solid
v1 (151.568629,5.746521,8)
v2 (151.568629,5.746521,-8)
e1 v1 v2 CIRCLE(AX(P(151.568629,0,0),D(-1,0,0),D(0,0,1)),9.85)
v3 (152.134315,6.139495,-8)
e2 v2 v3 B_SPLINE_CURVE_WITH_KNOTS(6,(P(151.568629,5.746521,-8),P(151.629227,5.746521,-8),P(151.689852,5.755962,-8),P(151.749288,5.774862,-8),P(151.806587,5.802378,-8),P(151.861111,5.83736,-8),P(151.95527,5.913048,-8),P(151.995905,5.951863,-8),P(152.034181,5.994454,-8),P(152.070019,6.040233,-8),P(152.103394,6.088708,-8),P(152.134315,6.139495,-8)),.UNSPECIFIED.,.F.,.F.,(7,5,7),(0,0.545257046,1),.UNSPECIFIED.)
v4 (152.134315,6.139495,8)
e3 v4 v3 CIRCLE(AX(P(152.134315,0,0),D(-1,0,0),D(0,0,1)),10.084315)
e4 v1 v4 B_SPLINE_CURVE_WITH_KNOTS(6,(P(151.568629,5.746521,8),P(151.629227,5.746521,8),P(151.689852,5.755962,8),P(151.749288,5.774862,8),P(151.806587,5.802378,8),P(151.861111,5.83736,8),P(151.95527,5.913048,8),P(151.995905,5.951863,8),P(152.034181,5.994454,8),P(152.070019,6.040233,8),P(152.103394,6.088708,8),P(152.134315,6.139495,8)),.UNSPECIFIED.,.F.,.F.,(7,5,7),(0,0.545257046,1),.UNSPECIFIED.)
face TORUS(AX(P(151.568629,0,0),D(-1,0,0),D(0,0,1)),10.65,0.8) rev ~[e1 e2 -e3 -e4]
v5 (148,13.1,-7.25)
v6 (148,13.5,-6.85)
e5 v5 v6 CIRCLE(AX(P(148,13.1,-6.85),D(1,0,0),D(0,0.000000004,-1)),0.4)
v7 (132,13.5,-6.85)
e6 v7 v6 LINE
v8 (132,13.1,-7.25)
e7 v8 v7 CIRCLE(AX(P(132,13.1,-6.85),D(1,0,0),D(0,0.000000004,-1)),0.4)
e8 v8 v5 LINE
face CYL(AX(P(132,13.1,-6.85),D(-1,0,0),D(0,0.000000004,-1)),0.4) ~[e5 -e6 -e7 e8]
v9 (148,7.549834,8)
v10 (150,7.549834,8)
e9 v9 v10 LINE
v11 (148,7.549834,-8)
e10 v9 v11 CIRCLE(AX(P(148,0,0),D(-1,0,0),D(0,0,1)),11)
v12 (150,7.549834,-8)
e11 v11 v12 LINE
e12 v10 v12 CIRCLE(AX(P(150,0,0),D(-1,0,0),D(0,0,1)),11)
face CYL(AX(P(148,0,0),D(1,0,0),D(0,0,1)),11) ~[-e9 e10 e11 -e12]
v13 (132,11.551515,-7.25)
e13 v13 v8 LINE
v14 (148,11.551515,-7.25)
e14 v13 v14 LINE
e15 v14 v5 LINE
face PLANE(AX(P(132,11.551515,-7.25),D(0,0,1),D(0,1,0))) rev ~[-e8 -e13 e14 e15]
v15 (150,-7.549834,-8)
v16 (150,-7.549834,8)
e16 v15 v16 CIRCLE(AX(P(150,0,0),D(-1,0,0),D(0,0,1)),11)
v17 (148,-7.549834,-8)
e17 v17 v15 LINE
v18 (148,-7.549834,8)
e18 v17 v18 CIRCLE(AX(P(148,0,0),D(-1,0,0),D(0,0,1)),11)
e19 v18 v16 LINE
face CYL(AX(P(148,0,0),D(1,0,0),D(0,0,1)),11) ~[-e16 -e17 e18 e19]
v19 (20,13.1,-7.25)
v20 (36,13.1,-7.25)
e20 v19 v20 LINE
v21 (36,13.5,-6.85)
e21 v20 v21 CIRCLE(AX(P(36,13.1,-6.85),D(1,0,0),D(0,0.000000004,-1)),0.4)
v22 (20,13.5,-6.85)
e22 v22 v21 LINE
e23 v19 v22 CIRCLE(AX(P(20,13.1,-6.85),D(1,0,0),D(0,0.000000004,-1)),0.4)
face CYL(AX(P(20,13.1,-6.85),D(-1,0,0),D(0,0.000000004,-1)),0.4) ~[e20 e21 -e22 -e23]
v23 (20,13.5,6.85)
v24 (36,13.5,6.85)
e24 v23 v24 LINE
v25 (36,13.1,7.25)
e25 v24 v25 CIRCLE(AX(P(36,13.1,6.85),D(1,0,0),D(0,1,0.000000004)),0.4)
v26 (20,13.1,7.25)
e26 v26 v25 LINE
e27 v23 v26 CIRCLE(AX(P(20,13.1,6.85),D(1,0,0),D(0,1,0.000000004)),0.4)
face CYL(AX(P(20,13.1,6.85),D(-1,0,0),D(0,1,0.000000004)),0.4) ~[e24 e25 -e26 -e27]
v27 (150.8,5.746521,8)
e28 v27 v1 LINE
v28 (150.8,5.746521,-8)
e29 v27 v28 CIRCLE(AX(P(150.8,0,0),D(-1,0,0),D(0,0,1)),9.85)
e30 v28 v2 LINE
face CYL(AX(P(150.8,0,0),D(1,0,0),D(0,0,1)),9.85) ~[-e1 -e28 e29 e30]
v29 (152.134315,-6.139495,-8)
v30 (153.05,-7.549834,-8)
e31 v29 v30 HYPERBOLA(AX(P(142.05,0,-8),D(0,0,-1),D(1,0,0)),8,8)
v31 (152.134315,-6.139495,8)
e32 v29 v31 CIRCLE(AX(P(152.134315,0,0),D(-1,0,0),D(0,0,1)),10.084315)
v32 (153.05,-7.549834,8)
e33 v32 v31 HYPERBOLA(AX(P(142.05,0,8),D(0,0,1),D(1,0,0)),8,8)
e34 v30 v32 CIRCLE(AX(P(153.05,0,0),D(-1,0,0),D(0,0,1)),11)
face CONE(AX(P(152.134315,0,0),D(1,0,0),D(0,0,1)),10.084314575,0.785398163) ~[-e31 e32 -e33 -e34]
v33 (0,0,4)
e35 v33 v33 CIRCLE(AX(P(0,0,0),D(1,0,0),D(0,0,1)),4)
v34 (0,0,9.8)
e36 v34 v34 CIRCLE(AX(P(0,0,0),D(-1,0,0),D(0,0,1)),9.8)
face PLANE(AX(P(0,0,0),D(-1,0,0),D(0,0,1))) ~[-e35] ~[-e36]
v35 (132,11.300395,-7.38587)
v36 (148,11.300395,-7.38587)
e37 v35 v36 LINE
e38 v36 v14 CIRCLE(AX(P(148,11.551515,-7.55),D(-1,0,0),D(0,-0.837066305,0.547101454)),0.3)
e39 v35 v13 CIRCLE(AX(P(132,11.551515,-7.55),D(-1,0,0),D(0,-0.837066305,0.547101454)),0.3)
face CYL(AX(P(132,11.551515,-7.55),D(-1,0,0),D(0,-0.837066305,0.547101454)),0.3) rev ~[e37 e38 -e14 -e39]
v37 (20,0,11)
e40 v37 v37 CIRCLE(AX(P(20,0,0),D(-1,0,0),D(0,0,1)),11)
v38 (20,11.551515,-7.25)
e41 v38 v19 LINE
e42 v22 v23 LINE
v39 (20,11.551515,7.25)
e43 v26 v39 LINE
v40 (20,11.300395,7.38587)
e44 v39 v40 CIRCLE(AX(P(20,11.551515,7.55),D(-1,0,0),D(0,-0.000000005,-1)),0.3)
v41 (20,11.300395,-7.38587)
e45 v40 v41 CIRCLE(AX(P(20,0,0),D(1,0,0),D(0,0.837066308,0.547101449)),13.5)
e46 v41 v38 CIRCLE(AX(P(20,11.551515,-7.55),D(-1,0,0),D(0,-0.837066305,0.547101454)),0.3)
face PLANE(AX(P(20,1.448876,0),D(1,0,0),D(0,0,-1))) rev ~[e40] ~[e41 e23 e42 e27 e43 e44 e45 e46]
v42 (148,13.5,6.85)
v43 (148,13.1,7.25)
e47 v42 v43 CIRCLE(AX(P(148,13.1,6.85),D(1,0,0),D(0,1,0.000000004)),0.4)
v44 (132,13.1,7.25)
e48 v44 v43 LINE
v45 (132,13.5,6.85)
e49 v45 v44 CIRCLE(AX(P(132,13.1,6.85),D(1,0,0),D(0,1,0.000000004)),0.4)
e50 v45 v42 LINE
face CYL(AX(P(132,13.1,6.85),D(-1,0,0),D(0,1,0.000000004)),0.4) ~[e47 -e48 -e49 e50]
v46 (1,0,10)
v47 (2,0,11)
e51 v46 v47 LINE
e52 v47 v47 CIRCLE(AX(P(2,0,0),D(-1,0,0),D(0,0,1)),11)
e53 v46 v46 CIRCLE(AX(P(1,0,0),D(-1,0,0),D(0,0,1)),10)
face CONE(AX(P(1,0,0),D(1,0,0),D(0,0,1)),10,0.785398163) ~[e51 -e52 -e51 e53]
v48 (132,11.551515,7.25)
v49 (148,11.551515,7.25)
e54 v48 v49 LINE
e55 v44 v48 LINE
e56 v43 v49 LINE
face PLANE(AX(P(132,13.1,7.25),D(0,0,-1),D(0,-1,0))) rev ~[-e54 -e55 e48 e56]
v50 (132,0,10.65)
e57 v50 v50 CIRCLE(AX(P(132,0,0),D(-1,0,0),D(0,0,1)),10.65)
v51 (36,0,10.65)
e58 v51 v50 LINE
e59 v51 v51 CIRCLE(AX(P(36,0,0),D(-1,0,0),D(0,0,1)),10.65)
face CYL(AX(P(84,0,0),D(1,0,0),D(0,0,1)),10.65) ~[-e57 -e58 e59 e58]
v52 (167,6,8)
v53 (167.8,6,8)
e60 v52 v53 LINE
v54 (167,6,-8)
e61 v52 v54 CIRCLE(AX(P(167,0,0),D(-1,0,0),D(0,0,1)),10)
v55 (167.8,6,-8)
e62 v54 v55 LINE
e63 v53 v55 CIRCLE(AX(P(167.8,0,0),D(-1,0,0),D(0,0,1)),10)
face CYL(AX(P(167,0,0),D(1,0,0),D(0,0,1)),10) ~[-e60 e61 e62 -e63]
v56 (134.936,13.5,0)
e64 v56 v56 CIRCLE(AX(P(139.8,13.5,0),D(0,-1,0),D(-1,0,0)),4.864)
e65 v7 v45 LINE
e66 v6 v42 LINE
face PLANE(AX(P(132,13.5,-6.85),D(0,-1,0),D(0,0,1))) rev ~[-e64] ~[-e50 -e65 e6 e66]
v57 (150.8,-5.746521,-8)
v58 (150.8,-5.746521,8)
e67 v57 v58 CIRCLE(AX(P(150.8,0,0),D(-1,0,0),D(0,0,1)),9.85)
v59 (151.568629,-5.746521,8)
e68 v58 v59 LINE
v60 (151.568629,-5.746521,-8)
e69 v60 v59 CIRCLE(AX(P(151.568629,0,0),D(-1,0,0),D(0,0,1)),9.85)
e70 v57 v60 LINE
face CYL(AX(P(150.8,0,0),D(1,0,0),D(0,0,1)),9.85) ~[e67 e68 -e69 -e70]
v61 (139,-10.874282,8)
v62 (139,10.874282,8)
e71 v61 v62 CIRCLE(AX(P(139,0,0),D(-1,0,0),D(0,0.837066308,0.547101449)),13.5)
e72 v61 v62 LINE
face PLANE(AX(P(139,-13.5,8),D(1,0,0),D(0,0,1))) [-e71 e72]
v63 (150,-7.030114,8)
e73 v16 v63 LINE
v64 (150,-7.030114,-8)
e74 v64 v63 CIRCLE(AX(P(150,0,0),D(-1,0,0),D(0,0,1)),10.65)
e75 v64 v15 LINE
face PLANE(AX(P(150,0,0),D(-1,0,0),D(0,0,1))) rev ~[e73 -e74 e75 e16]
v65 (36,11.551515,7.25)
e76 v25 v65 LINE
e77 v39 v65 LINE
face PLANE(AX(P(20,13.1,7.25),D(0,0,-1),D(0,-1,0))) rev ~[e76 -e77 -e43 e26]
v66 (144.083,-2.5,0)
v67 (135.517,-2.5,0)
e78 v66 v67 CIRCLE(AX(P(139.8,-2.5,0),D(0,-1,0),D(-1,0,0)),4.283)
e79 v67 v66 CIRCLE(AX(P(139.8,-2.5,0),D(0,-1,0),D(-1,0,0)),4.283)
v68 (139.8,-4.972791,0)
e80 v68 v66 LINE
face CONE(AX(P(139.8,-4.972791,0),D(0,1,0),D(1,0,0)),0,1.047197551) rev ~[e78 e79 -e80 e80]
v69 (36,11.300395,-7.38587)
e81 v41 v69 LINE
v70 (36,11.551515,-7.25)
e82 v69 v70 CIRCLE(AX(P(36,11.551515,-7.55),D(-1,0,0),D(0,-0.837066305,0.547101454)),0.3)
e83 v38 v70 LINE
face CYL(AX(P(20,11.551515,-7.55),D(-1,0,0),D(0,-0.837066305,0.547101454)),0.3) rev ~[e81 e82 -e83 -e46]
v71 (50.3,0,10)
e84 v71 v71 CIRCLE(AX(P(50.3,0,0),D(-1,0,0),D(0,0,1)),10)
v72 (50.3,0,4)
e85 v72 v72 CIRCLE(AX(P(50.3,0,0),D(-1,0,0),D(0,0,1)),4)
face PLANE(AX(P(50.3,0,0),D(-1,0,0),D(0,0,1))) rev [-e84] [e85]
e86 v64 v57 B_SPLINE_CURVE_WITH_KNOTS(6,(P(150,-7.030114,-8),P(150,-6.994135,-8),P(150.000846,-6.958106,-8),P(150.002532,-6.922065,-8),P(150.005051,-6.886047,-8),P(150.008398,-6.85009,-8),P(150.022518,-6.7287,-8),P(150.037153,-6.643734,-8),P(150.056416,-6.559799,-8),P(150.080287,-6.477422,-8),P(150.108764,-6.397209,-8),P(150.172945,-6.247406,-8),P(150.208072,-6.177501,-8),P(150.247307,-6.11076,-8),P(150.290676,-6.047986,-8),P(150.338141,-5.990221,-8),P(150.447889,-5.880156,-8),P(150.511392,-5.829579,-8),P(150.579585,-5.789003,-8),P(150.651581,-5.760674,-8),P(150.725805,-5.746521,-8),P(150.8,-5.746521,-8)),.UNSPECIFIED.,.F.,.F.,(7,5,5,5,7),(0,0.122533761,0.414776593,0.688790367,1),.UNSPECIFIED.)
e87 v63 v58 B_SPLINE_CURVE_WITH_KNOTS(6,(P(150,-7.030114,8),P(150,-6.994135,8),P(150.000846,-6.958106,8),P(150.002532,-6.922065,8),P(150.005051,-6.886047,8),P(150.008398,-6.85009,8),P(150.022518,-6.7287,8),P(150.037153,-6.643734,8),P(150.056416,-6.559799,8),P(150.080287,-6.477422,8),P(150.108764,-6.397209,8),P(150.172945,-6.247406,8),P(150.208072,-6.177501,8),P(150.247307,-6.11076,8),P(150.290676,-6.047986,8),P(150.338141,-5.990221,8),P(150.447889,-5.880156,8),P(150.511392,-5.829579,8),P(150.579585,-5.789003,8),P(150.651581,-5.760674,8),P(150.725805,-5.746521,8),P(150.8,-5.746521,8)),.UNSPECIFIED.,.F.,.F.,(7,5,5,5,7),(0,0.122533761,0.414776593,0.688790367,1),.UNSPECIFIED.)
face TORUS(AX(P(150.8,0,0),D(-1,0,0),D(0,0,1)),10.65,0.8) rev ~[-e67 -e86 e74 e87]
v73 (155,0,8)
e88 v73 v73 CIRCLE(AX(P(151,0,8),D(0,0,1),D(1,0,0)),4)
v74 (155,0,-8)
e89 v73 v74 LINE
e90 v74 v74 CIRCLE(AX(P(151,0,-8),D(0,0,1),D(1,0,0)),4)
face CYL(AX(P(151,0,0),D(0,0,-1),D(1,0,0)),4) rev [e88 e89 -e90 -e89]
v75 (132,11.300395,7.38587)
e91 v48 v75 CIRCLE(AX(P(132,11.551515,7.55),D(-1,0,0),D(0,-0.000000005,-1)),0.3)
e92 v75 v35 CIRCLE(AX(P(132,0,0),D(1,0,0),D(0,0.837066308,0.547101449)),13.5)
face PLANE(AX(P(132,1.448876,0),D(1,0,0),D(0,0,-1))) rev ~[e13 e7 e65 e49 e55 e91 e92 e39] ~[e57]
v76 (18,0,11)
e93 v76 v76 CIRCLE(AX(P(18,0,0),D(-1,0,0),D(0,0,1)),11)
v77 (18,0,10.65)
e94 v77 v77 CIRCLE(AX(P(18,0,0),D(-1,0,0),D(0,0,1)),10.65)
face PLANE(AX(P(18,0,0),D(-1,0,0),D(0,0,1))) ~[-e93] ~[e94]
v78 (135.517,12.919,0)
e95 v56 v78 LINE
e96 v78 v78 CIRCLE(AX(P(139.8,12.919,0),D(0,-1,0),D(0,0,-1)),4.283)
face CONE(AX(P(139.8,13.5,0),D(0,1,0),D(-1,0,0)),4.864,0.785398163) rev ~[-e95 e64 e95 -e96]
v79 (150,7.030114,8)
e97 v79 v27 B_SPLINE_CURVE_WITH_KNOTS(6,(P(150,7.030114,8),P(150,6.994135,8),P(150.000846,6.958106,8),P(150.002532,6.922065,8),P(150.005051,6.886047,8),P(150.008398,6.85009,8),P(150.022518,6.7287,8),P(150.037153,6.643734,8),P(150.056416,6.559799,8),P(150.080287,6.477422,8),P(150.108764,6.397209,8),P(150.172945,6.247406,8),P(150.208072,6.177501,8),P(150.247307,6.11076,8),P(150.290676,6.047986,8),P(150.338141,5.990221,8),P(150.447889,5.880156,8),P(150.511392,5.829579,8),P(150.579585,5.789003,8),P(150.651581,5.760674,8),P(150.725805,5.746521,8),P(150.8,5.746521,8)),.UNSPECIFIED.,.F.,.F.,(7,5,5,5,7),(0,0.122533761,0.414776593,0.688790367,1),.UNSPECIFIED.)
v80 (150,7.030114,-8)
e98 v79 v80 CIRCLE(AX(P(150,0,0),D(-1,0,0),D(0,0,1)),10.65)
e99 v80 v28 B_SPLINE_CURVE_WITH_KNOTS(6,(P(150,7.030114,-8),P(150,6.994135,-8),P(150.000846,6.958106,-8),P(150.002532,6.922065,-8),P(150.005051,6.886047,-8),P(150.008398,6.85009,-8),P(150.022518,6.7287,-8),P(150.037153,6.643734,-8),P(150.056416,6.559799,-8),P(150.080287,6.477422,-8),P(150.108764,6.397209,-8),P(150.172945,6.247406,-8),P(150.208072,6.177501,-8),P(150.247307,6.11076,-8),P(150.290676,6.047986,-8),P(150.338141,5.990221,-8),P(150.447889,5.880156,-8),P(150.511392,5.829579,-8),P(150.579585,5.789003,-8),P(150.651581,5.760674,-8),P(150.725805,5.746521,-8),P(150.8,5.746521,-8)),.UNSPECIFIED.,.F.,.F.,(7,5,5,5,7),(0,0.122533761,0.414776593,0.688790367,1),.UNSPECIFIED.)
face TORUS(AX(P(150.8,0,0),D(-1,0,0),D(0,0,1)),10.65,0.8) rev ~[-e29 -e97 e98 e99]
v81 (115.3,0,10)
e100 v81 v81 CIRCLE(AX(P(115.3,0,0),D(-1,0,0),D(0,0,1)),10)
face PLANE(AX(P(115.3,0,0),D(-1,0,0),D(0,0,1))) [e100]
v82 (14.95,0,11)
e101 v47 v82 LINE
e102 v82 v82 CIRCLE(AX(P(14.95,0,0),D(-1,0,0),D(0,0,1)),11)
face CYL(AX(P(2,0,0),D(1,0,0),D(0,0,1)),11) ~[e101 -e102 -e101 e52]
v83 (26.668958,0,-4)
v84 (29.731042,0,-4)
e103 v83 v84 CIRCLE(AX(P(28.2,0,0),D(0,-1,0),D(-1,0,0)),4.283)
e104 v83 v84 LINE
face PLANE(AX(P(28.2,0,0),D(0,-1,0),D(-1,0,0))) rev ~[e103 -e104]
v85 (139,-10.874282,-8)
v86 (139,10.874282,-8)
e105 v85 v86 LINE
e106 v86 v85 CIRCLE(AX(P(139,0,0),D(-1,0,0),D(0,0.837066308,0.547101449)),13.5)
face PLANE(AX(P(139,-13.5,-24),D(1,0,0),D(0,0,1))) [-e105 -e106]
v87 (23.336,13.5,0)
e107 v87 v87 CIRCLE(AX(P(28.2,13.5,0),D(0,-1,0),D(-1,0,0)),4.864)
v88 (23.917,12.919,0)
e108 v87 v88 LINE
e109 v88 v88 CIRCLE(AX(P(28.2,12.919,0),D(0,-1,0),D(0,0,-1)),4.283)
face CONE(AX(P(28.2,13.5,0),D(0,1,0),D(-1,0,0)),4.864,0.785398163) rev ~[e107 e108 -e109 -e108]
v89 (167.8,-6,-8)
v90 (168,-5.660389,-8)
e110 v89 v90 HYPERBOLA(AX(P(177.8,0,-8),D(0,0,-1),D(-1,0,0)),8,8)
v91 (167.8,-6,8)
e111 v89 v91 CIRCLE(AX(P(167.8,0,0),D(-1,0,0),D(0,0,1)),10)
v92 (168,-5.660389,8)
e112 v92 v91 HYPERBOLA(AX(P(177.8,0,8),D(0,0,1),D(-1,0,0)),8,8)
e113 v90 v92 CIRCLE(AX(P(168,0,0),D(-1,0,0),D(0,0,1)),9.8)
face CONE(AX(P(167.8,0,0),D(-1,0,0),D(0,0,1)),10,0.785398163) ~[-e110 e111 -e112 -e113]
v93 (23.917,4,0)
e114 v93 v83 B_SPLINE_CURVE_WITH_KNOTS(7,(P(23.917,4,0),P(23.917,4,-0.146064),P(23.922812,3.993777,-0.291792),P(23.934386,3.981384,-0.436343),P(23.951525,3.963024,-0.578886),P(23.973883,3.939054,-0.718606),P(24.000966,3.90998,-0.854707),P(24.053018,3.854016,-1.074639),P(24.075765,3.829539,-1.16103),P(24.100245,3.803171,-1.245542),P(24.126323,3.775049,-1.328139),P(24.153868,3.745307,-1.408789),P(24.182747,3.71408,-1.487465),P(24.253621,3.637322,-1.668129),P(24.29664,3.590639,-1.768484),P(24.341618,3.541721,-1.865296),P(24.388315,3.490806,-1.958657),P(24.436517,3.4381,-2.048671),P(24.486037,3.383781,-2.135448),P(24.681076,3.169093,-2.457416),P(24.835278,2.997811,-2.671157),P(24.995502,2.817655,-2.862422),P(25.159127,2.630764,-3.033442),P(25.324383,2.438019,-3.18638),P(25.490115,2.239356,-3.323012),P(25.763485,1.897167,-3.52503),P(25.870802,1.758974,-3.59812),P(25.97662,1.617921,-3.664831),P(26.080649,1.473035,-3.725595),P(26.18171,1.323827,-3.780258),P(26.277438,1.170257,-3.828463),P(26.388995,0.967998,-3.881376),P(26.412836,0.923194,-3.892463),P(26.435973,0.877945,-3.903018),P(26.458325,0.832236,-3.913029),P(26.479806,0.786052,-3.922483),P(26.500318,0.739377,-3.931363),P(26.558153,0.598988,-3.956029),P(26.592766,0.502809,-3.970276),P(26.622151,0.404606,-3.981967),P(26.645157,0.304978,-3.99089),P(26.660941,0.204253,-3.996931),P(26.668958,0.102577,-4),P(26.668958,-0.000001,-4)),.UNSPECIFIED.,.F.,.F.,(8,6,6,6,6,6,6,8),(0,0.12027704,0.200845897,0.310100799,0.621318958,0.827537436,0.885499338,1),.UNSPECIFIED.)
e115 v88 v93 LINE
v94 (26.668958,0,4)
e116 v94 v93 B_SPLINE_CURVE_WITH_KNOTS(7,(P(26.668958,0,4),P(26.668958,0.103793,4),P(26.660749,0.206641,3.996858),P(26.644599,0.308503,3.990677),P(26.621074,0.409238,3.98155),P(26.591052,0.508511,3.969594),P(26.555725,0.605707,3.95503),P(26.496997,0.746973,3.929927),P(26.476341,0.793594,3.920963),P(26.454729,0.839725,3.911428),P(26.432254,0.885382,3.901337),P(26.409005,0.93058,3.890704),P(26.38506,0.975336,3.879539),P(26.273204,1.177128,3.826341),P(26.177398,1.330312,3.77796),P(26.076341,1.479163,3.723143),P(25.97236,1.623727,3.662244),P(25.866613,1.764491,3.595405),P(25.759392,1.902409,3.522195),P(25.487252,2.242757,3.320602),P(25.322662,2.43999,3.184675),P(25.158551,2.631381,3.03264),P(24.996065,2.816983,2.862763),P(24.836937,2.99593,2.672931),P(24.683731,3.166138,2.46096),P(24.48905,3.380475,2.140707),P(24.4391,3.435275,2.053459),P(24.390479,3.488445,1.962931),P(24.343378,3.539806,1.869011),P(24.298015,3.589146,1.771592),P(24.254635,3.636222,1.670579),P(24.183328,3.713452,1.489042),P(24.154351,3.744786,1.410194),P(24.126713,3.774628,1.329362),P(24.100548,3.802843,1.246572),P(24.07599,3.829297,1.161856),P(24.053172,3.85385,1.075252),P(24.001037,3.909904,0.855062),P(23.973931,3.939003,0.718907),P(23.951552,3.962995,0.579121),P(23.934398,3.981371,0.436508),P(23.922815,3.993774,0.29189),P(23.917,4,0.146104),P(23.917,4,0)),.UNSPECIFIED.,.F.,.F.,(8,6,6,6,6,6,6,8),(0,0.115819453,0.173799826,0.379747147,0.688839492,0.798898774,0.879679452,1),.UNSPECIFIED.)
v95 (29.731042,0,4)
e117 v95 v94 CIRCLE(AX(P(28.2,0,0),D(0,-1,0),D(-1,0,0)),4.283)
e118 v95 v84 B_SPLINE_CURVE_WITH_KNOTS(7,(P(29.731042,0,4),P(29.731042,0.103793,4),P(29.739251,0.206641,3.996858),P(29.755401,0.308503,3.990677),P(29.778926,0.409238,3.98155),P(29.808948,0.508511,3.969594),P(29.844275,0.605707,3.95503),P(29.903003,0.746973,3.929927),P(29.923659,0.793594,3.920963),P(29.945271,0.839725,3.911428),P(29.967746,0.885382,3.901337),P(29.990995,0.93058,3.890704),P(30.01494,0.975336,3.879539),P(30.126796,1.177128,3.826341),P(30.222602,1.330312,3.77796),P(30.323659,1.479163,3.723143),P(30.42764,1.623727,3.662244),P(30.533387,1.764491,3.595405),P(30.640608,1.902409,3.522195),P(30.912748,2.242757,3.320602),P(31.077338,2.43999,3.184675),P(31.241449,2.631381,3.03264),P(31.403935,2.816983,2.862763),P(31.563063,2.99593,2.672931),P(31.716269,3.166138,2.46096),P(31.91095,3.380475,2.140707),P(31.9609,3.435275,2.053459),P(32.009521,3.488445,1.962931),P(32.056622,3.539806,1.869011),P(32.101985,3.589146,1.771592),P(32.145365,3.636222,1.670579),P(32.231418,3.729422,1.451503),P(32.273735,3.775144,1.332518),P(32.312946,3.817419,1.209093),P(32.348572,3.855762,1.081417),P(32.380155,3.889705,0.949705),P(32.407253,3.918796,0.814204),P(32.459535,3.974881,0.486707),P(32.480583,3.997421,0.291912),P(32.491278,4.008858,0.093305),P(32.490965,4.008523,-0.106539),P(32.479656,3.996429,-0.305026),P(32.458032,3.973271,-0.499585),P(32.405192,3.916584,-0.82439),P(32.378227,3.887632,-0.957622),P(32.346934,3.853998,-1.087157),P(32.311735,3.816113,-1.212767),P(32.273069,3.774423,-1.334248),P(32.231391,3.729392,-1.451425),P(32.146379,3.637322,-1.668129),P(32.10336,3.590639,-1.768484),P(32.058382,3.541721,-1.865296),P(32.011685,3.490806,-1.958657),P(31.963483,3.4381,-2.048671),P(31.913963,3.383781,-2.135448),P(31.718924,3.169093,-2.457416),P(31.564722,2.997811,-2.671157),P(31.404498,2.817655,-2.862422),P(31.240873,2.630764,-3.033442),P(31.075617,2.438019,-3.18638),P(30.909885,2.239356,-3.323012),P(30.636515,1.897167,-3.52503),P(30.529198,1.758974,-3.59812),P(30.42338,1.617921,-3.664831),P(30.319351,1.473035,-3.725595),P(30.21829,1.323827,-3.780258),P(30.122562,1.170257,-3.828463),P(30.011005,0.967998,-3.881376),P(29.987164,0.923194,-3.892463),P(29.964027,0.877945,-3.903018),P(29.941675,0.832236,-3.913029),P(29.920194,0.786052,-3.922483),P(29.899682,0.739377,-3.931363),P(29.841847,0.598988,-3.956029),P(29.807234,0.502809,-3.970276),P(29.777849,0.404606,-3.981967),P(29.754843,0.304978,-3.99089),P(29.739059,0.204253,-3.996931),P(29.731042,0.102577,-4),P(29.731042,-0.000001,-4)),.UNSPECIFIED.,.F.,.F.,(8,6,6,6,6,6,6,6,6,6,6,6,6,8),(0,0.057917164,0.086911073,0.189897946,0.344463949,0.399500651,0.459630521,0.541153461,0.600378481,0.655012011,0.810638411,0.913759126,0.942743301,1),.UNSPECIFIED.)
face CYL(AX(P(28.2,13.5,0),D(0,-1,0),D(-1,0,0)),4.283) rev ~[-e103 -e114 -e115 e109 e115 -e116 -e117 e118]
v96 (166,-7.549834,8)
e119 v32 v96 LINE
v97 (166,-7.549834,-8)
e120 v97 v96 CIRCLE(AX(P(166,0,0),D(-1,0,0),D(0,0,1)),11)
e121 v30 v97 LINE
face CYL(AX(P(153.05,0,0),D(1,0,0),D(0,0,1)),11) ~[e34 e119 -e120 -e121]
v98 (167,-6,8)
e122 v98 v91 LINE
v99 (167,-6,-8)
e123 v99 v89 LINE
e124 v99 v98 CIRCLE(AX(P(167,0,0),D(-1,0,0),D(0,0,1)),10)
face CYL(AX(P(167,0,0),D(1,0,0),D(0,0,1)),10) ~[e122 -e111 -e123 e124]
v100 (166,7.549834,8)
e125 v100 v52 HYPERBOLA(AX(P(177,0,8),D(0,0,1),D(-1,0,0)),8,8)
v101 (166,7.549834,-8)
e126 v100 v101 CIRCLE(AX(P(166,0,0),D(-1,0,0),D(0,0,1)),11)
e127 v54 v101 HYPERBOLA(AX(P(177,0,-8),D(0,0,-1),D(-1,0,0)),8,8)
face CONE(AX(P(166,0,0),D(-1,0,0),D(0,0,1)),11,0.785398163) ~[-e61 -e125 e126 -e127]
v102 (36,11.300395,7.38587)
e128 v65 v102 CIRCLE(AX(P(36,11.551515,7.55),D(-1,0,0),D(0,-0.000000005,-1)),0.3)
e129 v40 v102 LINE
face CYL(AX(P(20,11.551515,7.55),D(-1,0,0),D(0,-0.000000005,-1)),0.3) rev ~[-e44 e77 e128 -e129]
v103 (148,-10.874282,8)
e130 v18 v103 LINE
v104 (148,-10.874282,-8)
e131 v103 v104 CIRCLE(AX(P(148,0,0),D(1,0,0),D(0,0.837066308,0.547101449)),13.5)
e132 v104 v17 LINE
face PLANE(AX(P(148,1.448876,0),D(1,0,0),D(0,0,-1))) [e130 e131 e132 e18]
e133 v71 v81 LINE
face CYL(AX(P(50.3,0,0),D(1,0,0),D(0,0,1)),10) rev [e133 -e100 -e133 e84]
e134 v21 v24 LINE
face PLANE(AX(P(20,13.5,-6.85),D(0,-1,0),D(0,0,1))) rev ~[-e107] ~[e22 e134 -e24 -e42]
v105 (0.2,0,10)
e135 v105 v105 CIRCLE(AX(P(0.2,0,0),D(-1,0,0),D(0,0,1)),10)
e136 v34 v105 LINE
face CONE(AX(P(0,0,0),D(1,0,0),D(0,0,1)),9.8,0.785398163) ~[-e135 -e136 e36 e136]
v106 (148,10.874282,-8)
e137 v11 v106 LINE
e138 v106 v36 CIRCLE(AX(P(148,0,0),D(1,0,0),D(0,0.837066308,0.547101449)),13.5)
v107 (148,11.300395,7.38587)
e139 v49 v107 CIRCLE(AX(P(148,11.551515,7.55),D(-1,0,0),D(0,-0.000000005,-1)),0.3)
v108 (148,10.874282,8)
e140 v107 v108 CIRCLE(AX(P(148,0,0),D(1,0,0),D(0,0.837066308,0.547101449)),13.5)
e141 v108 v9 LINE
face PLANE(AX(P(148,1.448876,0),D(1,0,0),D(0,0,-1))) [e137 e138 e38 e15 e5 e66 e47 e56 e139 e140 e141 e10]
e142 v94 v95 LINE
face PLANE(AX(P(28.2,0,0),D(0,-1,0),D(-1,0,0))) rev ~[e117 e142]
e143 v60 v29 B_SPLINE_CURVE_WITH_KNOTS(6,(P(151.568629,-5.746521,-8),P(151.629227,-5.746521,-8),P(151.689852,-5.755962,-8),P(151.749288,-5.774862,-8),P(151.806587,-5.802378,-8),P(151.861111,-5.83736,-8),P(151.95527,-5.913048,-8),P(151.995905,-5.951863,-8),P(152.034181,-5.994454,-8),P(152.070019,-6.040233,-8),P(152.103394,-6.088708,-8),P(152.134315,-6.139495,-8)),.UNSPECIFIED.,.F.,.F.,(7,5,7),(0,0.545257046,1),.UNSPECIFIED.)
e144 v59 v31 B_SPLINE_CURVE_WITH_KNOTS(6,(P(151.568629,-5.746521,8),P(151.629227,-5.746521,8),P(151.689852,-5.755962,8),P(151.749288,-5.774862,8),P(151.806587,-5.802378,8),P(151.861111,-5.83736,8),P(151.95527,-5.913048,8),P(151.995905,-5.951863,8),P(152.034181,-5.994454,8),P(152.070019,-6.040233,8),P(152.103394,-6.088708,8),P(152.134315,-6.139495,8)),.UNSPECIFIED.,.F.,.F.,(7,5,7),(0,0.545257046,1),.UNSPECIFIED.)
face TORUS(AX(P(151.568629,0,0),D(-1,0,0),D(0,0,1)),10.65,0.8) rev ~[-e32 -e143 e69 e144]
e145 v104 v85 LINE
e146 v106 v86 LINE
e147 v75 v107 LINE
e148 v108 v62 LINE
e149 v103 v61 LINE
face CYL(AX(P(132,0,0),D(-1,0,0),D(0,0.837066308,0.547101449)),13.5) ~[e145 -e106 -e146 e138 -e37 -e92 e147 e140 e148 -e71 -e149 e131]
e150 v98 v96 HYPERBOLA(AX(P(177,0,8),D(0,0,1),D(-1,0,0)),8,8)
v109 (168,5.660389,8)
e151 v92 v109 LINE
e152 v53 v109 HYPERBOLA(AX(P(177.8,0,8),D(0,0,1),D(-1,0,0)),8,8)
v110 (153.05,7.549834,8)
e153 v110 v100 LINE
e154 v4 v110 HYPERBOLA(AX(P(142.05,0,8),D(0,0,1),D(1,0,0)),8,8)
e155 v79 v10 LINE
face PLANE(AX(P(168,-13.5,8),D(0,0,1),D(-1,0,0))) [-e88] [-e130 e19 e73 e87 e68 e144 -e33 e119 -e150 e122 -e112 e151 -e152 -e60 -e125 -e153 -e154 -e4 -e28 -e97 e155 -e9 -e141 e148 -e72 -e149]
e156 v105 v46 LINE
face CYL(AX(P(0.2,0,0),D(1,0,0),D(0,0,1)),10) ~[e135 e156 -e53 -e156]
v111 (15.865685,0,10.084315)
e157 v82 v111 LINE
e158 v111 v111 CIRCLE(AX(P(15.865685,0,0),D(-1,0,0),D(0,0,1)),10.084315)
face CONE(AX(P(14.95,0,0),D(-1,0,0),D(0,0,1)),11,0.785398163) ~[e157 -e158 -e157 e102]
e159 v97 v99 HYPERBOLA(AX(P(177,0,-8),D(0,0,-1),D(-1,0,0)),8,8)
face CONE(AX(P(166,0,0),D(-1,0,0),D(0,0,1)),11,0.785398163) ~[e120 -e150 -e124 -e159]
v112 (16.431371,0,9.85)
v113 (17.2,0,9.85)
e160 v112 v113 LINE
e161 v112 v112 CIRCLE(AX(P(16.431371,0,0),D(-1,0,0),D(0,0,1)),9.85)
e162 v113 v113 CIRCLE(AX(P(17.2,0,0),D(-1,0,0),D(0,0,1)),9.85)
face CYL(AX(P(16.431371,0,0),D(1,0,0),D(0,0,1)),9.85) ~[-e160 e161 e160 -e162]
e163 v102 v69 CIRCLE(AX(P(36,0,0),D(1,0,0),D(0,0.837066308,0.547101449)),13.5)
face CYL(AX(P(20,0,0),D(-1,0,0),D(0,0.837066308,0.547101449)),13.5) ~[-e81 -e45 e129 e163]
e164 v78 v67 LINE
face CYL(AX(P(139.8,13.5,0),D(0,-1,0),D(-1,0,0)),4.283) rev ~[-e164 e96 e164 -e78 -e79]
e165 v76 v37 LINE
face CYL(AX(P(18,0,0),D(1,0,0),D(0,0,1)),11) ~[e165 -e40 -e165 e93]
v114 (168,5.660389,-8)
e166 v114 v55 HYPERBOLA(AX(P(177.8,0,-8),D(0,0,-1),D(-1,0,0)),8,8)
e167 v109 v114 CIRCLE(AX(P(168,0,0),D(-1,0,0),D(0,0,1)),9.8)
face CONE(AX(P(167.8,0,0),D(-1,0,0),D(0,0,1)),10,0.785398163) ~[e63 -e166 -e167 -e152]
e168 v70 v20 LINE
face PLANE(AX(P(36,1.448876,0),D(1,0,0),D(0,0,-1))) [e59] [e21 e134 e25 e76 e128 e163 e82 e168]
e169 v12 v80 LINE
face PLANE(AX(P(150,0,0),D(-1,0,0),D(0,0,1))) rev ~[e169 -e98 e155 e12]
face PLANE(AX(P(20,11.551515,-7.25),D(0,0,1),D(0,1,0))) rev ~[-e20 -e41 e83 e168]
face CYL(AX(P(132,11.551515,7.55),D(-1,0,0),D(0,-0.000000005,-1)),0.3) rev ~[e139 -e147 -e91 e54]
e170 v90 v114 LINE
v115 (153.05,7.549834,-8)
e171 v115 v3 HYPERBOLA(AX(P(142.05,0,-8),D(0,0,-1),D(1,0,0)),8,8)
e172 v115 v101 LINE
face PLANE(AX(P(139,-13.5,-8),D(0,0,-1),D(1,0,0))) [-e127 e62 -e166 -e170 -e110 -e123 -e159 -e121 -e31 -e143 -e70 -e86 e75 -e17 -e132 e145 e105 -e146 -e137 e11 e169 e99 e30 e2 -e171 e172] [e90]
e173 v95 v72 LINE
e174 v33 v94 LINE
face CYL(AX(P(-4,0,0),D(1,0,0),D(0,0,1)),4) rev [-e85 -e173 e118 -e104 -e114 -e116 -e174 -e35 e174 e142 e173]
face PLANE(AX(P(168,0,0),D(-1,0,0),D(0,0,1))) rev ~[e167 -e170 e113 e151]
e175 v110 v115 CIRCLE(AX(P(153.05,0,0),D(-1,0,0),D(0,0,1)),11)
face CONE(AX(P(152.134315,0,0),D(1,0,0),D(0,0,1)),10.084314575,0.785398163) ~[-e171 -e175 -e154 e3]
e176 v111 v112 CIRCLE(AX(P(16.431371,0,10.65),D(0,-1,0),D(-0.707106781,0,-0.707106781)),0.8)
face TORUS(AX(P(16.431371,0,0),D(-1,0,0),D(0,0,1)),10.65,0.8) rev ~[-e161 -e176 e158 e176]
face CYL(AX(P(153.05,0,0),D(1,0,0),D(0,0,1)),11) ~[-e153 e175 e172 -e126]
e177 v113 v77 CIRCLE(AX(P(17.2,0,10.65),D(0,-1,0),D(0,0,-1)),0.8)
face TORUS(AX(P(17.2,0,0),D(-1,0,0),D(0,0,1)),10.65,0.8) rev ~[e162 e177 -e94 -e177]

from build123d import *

# Parameters (mm, degrees)
BOSS_EXTRUDE1_DEPTH     = 16
SKETCH3_W               = 96
SKETCH3_H               = 10.65
BOSS_EXTRUDE2_DEPTH     = 16
CUT_EXTRUDE1_DEPTH      = 13.5
CUT_EXTRUDE1_DEPTH_BACK = 13.5
SKETCH7_W               = 16
SKETCH7_H               = 4
HOLE1_D                 = 8.566
HOLE1_DEPTH             = 13.5
HOLE1_CSINK_D           = 9.728
HOLE1_CSINK_ANGLE       = 90
HOLE2_D                 = 8.566
HOLE2_DEPTH             = 16
HOLE2_CSINK_D           = 9.728
HOLE2_CSINK_ANGLE       = 90
HOLE2_TIP               = 2.472791203


with BuildPart() as part:
    # Sketch1 → Revolve1 (revolve)
    with BuildSketch(Plane.XY):
        with BuildLine():
            Line((0, 0), (0, 9.8))
            Line((0, 9.8), (0.2, 10))
            Line((0.2, 10), (1, 10))
            Line((1, 10), (2, 11))
            Line((2, 11), (14.95, 11))
            Line((14.95, 11), (15.865685425, 10.084314575))
            ThreePointArc((15.865685425, 10.084314575), (16.125224104, 9.910896374), (16.43137085, 9.85))
            Line((16.43137085, 9.85), (17.2, 9.85))
            ThreePointArc((17.2, 9.85), (17.765685425, 10.084314575), (18, 10.65))
            Line((18, 10.65), (18, 11))
            Line((18, 11), (20, 11))
            Line((20, 11), (20, 0))
            Line((20, 0), (0, 0))
        make_face()
    revolve(axis=Axis((20, 0, 0), (-1, 0, 0)))

    # Sketch2 → Boss-Extrude1 (add)
    with BuildSketch(Plane(origin=(20, 0, 0), x_dir=(0, 0, -1), z_dir=(1, 0, 0))):
        with BuildLine():
            Line((7.25, 11.551515052), (7.25, 13.1))
            ThreePointArc((7.25, 13.1), (7.132842712, 13.382842712), (6.85, 13.5))
            Line((6.85, 13.5), (-6.85, 13.5))
            ThreePointArc((-6.85, 13.5), (-7.132842712, 13.382842712), (-7.25, 13.1))
            Line((-7.25, 13.1), (-7.25, 11.551515052))
            ThreePointArc((-7.25, 11.551515052), (-7.286144803, 11.408754992), (-7.385869565, 11.30039516))
            ThreePointArc((-7.385869565, 11.30039516), (0, -13.5), (7.385869565, 11.30039516))
            ThreePointArc((7.385869565, 11.30039516), (7.286144803, 11.408754992), (7.25, 11.551515052))
        make_face()
    extrude(amount=BOSS_EXTRUDE1_DEPTH)

    # Sketch3 → Revolve2 (revolve)
    with BuildSketch(Plane.XY):
        with Locations((84, 5.325)):
            Rectangle(SKETCH3_W, SKETCH3_H)
    revolve(axis=Axis((132, 0, 0), (-1, 0, 0)))

    # Sketch4 → Boss-Extrude2 (add)
    with BuildSketch(Plane(origin=(132, 0, 0), x_dir=(0, 0, -1), z_dir=(1, 0, 0))):
        with BuildLine():
            Line((7.25, 11.551515052), (7.25, 13.1))
            ThreePointArc((7.25, 13.1), (7.132842712, 13.382842712), (6.85, 13.5))
            Line((6.85, 13.5), (-6.85, 13.5))
            ThreePointArc((-6.85, 13.5), (-7.132842712, 13.382842712), (-7.25, 13.1))
            Line((-7.25, 13.1), (-7.25, 11.551515052))
            ThreePointArc((-7.25, 11.551515052), (-7.286144803, 11.408754992), (-7.385869565, 11.30039516))
            ThreePointArc((-7.385869565, 11.30039516), (0, -13.5), (7.385869565, 11.30039516))
            ThreePointArc((7.385869565, 11.30039516), (7.286144803, 11.408754992), (7.25, 11.551515052))
        make_face()
    extrude(amount=BOSS_EXTRUDE2_DEPTH)

    # Sketch5 → Revolve3 (revolve)
    with BuildSketch(Plane.XY):
        with BuildLine():
            Line((148, 0), (148, 11))
            Line((148, 11), (150, 11))
            Line((150, 11), (150, 10.65))
            ThreePointArc((150, 10.65), (150.234314575, 10.084314575), (150.8, 9.85))
            Line((150.8, 9.85), (151.56862915, 9.85))
            ThreePointArc((151.56862915, 9.85), (151.874775896, 9.910896374), (152.134314575, 10.084314575))
            Line((152.134314575, 10.084314575), (153.05, 11))
            Line((153.05, 11), (166, 11))
            Line((166, 11), (167, 10))
            Line((167, 10), (167.8, 10))
            Line((167.8, 10), (168, 9.8))
            Line((168, 9.8), (168, 0))
            Line((168, 0), (148, 0))
        make_face()
    revolve(axis=Axis((168, 0, 0), (-1, 0, 0)))

    # Sketch6 → Cut-Extrude1 (cut, two sides: drawn at the far end of the back side and taken through both)
    with BuildSketch(Plane(origin=(0, 0, 0), x_dir=(1, 0, 0), z_dir=(0, 1, 0)).offset(-CUT_EXTRUDE1_DEPTH_BACK)):
        Polygon((139, 24), (139, 8), (168, 8), (168, -8), (139, -8), (139, -24), (184, -24), (184, 24), align=None)
    extrude(amount=CUT_EXTRUDE1_DEPTH + CUT_EXTRUDE1_DEPTH_BACK, mode=Mode.SUBTRACT)

    # Sketch7 → Cut-Revolve1 (revolve, cut)
    with BuildSketch(Plane(origin=(151, 0, 0), x_dir=(0, 0, -1), z_dir=(1, 0, 0))):
        with Locations((0, 2)):
            Rectangle(SKETCH7_W, SKETCH7_H)
    revolve(axis=Axis((151, 0, -8), (0, 0, 1)), mode=Mode.SUBTRACT)

    # Hole1
    with Locations(Plane(origin=(0, 13.5, 0), x_dir=(1, 0, 0), z_dir=(0, 1, 0))):
        with Locations((28.2, 0)):
            CounterSinkHole(HOLE1_D / 2, HOLE1_CSINK_D / 2, depth=HOLE1_DEPTH, counter_sink_angle=HOLE1_CSINK_ANGLE)

    # Hole2
    with Locations(Plane(origin=(0, 13.5, 0), x_dir=(1, 0, 0), z_dir=(0, 1, 0))):
        with Locations((139.8, 0)):
            CounterSinkHole(HOLE2_D / 2, HOLE2_CSINK_D / 2, depth=HOLE2_DEPTH, counter_sink_angle=HOLE2_CSINK_ANGLE)
            with Locations((0, 0, -(HOLE2_DEPTH + HOLE2_TIP / 2))):  # 120° drill point
                Cone(0, HOLE2_D / 2, HOLE2_TIP, mode=Mode.SUBTRACT)

    # Sketch12 → Cut-Revolve2 (revolve, cut)
    with BuildSketch(Plane.XY):
        Polygon((-4, 0), (-4, 4), (50.3, 4), (50.3, 10), (115.3, 10), (115.3, 0), align=None)
    revolve(axis=Axis((115.3, 0, 0), (-1, 0, 0)), mode=Mode.SUBTRACT)


solid = part.part
